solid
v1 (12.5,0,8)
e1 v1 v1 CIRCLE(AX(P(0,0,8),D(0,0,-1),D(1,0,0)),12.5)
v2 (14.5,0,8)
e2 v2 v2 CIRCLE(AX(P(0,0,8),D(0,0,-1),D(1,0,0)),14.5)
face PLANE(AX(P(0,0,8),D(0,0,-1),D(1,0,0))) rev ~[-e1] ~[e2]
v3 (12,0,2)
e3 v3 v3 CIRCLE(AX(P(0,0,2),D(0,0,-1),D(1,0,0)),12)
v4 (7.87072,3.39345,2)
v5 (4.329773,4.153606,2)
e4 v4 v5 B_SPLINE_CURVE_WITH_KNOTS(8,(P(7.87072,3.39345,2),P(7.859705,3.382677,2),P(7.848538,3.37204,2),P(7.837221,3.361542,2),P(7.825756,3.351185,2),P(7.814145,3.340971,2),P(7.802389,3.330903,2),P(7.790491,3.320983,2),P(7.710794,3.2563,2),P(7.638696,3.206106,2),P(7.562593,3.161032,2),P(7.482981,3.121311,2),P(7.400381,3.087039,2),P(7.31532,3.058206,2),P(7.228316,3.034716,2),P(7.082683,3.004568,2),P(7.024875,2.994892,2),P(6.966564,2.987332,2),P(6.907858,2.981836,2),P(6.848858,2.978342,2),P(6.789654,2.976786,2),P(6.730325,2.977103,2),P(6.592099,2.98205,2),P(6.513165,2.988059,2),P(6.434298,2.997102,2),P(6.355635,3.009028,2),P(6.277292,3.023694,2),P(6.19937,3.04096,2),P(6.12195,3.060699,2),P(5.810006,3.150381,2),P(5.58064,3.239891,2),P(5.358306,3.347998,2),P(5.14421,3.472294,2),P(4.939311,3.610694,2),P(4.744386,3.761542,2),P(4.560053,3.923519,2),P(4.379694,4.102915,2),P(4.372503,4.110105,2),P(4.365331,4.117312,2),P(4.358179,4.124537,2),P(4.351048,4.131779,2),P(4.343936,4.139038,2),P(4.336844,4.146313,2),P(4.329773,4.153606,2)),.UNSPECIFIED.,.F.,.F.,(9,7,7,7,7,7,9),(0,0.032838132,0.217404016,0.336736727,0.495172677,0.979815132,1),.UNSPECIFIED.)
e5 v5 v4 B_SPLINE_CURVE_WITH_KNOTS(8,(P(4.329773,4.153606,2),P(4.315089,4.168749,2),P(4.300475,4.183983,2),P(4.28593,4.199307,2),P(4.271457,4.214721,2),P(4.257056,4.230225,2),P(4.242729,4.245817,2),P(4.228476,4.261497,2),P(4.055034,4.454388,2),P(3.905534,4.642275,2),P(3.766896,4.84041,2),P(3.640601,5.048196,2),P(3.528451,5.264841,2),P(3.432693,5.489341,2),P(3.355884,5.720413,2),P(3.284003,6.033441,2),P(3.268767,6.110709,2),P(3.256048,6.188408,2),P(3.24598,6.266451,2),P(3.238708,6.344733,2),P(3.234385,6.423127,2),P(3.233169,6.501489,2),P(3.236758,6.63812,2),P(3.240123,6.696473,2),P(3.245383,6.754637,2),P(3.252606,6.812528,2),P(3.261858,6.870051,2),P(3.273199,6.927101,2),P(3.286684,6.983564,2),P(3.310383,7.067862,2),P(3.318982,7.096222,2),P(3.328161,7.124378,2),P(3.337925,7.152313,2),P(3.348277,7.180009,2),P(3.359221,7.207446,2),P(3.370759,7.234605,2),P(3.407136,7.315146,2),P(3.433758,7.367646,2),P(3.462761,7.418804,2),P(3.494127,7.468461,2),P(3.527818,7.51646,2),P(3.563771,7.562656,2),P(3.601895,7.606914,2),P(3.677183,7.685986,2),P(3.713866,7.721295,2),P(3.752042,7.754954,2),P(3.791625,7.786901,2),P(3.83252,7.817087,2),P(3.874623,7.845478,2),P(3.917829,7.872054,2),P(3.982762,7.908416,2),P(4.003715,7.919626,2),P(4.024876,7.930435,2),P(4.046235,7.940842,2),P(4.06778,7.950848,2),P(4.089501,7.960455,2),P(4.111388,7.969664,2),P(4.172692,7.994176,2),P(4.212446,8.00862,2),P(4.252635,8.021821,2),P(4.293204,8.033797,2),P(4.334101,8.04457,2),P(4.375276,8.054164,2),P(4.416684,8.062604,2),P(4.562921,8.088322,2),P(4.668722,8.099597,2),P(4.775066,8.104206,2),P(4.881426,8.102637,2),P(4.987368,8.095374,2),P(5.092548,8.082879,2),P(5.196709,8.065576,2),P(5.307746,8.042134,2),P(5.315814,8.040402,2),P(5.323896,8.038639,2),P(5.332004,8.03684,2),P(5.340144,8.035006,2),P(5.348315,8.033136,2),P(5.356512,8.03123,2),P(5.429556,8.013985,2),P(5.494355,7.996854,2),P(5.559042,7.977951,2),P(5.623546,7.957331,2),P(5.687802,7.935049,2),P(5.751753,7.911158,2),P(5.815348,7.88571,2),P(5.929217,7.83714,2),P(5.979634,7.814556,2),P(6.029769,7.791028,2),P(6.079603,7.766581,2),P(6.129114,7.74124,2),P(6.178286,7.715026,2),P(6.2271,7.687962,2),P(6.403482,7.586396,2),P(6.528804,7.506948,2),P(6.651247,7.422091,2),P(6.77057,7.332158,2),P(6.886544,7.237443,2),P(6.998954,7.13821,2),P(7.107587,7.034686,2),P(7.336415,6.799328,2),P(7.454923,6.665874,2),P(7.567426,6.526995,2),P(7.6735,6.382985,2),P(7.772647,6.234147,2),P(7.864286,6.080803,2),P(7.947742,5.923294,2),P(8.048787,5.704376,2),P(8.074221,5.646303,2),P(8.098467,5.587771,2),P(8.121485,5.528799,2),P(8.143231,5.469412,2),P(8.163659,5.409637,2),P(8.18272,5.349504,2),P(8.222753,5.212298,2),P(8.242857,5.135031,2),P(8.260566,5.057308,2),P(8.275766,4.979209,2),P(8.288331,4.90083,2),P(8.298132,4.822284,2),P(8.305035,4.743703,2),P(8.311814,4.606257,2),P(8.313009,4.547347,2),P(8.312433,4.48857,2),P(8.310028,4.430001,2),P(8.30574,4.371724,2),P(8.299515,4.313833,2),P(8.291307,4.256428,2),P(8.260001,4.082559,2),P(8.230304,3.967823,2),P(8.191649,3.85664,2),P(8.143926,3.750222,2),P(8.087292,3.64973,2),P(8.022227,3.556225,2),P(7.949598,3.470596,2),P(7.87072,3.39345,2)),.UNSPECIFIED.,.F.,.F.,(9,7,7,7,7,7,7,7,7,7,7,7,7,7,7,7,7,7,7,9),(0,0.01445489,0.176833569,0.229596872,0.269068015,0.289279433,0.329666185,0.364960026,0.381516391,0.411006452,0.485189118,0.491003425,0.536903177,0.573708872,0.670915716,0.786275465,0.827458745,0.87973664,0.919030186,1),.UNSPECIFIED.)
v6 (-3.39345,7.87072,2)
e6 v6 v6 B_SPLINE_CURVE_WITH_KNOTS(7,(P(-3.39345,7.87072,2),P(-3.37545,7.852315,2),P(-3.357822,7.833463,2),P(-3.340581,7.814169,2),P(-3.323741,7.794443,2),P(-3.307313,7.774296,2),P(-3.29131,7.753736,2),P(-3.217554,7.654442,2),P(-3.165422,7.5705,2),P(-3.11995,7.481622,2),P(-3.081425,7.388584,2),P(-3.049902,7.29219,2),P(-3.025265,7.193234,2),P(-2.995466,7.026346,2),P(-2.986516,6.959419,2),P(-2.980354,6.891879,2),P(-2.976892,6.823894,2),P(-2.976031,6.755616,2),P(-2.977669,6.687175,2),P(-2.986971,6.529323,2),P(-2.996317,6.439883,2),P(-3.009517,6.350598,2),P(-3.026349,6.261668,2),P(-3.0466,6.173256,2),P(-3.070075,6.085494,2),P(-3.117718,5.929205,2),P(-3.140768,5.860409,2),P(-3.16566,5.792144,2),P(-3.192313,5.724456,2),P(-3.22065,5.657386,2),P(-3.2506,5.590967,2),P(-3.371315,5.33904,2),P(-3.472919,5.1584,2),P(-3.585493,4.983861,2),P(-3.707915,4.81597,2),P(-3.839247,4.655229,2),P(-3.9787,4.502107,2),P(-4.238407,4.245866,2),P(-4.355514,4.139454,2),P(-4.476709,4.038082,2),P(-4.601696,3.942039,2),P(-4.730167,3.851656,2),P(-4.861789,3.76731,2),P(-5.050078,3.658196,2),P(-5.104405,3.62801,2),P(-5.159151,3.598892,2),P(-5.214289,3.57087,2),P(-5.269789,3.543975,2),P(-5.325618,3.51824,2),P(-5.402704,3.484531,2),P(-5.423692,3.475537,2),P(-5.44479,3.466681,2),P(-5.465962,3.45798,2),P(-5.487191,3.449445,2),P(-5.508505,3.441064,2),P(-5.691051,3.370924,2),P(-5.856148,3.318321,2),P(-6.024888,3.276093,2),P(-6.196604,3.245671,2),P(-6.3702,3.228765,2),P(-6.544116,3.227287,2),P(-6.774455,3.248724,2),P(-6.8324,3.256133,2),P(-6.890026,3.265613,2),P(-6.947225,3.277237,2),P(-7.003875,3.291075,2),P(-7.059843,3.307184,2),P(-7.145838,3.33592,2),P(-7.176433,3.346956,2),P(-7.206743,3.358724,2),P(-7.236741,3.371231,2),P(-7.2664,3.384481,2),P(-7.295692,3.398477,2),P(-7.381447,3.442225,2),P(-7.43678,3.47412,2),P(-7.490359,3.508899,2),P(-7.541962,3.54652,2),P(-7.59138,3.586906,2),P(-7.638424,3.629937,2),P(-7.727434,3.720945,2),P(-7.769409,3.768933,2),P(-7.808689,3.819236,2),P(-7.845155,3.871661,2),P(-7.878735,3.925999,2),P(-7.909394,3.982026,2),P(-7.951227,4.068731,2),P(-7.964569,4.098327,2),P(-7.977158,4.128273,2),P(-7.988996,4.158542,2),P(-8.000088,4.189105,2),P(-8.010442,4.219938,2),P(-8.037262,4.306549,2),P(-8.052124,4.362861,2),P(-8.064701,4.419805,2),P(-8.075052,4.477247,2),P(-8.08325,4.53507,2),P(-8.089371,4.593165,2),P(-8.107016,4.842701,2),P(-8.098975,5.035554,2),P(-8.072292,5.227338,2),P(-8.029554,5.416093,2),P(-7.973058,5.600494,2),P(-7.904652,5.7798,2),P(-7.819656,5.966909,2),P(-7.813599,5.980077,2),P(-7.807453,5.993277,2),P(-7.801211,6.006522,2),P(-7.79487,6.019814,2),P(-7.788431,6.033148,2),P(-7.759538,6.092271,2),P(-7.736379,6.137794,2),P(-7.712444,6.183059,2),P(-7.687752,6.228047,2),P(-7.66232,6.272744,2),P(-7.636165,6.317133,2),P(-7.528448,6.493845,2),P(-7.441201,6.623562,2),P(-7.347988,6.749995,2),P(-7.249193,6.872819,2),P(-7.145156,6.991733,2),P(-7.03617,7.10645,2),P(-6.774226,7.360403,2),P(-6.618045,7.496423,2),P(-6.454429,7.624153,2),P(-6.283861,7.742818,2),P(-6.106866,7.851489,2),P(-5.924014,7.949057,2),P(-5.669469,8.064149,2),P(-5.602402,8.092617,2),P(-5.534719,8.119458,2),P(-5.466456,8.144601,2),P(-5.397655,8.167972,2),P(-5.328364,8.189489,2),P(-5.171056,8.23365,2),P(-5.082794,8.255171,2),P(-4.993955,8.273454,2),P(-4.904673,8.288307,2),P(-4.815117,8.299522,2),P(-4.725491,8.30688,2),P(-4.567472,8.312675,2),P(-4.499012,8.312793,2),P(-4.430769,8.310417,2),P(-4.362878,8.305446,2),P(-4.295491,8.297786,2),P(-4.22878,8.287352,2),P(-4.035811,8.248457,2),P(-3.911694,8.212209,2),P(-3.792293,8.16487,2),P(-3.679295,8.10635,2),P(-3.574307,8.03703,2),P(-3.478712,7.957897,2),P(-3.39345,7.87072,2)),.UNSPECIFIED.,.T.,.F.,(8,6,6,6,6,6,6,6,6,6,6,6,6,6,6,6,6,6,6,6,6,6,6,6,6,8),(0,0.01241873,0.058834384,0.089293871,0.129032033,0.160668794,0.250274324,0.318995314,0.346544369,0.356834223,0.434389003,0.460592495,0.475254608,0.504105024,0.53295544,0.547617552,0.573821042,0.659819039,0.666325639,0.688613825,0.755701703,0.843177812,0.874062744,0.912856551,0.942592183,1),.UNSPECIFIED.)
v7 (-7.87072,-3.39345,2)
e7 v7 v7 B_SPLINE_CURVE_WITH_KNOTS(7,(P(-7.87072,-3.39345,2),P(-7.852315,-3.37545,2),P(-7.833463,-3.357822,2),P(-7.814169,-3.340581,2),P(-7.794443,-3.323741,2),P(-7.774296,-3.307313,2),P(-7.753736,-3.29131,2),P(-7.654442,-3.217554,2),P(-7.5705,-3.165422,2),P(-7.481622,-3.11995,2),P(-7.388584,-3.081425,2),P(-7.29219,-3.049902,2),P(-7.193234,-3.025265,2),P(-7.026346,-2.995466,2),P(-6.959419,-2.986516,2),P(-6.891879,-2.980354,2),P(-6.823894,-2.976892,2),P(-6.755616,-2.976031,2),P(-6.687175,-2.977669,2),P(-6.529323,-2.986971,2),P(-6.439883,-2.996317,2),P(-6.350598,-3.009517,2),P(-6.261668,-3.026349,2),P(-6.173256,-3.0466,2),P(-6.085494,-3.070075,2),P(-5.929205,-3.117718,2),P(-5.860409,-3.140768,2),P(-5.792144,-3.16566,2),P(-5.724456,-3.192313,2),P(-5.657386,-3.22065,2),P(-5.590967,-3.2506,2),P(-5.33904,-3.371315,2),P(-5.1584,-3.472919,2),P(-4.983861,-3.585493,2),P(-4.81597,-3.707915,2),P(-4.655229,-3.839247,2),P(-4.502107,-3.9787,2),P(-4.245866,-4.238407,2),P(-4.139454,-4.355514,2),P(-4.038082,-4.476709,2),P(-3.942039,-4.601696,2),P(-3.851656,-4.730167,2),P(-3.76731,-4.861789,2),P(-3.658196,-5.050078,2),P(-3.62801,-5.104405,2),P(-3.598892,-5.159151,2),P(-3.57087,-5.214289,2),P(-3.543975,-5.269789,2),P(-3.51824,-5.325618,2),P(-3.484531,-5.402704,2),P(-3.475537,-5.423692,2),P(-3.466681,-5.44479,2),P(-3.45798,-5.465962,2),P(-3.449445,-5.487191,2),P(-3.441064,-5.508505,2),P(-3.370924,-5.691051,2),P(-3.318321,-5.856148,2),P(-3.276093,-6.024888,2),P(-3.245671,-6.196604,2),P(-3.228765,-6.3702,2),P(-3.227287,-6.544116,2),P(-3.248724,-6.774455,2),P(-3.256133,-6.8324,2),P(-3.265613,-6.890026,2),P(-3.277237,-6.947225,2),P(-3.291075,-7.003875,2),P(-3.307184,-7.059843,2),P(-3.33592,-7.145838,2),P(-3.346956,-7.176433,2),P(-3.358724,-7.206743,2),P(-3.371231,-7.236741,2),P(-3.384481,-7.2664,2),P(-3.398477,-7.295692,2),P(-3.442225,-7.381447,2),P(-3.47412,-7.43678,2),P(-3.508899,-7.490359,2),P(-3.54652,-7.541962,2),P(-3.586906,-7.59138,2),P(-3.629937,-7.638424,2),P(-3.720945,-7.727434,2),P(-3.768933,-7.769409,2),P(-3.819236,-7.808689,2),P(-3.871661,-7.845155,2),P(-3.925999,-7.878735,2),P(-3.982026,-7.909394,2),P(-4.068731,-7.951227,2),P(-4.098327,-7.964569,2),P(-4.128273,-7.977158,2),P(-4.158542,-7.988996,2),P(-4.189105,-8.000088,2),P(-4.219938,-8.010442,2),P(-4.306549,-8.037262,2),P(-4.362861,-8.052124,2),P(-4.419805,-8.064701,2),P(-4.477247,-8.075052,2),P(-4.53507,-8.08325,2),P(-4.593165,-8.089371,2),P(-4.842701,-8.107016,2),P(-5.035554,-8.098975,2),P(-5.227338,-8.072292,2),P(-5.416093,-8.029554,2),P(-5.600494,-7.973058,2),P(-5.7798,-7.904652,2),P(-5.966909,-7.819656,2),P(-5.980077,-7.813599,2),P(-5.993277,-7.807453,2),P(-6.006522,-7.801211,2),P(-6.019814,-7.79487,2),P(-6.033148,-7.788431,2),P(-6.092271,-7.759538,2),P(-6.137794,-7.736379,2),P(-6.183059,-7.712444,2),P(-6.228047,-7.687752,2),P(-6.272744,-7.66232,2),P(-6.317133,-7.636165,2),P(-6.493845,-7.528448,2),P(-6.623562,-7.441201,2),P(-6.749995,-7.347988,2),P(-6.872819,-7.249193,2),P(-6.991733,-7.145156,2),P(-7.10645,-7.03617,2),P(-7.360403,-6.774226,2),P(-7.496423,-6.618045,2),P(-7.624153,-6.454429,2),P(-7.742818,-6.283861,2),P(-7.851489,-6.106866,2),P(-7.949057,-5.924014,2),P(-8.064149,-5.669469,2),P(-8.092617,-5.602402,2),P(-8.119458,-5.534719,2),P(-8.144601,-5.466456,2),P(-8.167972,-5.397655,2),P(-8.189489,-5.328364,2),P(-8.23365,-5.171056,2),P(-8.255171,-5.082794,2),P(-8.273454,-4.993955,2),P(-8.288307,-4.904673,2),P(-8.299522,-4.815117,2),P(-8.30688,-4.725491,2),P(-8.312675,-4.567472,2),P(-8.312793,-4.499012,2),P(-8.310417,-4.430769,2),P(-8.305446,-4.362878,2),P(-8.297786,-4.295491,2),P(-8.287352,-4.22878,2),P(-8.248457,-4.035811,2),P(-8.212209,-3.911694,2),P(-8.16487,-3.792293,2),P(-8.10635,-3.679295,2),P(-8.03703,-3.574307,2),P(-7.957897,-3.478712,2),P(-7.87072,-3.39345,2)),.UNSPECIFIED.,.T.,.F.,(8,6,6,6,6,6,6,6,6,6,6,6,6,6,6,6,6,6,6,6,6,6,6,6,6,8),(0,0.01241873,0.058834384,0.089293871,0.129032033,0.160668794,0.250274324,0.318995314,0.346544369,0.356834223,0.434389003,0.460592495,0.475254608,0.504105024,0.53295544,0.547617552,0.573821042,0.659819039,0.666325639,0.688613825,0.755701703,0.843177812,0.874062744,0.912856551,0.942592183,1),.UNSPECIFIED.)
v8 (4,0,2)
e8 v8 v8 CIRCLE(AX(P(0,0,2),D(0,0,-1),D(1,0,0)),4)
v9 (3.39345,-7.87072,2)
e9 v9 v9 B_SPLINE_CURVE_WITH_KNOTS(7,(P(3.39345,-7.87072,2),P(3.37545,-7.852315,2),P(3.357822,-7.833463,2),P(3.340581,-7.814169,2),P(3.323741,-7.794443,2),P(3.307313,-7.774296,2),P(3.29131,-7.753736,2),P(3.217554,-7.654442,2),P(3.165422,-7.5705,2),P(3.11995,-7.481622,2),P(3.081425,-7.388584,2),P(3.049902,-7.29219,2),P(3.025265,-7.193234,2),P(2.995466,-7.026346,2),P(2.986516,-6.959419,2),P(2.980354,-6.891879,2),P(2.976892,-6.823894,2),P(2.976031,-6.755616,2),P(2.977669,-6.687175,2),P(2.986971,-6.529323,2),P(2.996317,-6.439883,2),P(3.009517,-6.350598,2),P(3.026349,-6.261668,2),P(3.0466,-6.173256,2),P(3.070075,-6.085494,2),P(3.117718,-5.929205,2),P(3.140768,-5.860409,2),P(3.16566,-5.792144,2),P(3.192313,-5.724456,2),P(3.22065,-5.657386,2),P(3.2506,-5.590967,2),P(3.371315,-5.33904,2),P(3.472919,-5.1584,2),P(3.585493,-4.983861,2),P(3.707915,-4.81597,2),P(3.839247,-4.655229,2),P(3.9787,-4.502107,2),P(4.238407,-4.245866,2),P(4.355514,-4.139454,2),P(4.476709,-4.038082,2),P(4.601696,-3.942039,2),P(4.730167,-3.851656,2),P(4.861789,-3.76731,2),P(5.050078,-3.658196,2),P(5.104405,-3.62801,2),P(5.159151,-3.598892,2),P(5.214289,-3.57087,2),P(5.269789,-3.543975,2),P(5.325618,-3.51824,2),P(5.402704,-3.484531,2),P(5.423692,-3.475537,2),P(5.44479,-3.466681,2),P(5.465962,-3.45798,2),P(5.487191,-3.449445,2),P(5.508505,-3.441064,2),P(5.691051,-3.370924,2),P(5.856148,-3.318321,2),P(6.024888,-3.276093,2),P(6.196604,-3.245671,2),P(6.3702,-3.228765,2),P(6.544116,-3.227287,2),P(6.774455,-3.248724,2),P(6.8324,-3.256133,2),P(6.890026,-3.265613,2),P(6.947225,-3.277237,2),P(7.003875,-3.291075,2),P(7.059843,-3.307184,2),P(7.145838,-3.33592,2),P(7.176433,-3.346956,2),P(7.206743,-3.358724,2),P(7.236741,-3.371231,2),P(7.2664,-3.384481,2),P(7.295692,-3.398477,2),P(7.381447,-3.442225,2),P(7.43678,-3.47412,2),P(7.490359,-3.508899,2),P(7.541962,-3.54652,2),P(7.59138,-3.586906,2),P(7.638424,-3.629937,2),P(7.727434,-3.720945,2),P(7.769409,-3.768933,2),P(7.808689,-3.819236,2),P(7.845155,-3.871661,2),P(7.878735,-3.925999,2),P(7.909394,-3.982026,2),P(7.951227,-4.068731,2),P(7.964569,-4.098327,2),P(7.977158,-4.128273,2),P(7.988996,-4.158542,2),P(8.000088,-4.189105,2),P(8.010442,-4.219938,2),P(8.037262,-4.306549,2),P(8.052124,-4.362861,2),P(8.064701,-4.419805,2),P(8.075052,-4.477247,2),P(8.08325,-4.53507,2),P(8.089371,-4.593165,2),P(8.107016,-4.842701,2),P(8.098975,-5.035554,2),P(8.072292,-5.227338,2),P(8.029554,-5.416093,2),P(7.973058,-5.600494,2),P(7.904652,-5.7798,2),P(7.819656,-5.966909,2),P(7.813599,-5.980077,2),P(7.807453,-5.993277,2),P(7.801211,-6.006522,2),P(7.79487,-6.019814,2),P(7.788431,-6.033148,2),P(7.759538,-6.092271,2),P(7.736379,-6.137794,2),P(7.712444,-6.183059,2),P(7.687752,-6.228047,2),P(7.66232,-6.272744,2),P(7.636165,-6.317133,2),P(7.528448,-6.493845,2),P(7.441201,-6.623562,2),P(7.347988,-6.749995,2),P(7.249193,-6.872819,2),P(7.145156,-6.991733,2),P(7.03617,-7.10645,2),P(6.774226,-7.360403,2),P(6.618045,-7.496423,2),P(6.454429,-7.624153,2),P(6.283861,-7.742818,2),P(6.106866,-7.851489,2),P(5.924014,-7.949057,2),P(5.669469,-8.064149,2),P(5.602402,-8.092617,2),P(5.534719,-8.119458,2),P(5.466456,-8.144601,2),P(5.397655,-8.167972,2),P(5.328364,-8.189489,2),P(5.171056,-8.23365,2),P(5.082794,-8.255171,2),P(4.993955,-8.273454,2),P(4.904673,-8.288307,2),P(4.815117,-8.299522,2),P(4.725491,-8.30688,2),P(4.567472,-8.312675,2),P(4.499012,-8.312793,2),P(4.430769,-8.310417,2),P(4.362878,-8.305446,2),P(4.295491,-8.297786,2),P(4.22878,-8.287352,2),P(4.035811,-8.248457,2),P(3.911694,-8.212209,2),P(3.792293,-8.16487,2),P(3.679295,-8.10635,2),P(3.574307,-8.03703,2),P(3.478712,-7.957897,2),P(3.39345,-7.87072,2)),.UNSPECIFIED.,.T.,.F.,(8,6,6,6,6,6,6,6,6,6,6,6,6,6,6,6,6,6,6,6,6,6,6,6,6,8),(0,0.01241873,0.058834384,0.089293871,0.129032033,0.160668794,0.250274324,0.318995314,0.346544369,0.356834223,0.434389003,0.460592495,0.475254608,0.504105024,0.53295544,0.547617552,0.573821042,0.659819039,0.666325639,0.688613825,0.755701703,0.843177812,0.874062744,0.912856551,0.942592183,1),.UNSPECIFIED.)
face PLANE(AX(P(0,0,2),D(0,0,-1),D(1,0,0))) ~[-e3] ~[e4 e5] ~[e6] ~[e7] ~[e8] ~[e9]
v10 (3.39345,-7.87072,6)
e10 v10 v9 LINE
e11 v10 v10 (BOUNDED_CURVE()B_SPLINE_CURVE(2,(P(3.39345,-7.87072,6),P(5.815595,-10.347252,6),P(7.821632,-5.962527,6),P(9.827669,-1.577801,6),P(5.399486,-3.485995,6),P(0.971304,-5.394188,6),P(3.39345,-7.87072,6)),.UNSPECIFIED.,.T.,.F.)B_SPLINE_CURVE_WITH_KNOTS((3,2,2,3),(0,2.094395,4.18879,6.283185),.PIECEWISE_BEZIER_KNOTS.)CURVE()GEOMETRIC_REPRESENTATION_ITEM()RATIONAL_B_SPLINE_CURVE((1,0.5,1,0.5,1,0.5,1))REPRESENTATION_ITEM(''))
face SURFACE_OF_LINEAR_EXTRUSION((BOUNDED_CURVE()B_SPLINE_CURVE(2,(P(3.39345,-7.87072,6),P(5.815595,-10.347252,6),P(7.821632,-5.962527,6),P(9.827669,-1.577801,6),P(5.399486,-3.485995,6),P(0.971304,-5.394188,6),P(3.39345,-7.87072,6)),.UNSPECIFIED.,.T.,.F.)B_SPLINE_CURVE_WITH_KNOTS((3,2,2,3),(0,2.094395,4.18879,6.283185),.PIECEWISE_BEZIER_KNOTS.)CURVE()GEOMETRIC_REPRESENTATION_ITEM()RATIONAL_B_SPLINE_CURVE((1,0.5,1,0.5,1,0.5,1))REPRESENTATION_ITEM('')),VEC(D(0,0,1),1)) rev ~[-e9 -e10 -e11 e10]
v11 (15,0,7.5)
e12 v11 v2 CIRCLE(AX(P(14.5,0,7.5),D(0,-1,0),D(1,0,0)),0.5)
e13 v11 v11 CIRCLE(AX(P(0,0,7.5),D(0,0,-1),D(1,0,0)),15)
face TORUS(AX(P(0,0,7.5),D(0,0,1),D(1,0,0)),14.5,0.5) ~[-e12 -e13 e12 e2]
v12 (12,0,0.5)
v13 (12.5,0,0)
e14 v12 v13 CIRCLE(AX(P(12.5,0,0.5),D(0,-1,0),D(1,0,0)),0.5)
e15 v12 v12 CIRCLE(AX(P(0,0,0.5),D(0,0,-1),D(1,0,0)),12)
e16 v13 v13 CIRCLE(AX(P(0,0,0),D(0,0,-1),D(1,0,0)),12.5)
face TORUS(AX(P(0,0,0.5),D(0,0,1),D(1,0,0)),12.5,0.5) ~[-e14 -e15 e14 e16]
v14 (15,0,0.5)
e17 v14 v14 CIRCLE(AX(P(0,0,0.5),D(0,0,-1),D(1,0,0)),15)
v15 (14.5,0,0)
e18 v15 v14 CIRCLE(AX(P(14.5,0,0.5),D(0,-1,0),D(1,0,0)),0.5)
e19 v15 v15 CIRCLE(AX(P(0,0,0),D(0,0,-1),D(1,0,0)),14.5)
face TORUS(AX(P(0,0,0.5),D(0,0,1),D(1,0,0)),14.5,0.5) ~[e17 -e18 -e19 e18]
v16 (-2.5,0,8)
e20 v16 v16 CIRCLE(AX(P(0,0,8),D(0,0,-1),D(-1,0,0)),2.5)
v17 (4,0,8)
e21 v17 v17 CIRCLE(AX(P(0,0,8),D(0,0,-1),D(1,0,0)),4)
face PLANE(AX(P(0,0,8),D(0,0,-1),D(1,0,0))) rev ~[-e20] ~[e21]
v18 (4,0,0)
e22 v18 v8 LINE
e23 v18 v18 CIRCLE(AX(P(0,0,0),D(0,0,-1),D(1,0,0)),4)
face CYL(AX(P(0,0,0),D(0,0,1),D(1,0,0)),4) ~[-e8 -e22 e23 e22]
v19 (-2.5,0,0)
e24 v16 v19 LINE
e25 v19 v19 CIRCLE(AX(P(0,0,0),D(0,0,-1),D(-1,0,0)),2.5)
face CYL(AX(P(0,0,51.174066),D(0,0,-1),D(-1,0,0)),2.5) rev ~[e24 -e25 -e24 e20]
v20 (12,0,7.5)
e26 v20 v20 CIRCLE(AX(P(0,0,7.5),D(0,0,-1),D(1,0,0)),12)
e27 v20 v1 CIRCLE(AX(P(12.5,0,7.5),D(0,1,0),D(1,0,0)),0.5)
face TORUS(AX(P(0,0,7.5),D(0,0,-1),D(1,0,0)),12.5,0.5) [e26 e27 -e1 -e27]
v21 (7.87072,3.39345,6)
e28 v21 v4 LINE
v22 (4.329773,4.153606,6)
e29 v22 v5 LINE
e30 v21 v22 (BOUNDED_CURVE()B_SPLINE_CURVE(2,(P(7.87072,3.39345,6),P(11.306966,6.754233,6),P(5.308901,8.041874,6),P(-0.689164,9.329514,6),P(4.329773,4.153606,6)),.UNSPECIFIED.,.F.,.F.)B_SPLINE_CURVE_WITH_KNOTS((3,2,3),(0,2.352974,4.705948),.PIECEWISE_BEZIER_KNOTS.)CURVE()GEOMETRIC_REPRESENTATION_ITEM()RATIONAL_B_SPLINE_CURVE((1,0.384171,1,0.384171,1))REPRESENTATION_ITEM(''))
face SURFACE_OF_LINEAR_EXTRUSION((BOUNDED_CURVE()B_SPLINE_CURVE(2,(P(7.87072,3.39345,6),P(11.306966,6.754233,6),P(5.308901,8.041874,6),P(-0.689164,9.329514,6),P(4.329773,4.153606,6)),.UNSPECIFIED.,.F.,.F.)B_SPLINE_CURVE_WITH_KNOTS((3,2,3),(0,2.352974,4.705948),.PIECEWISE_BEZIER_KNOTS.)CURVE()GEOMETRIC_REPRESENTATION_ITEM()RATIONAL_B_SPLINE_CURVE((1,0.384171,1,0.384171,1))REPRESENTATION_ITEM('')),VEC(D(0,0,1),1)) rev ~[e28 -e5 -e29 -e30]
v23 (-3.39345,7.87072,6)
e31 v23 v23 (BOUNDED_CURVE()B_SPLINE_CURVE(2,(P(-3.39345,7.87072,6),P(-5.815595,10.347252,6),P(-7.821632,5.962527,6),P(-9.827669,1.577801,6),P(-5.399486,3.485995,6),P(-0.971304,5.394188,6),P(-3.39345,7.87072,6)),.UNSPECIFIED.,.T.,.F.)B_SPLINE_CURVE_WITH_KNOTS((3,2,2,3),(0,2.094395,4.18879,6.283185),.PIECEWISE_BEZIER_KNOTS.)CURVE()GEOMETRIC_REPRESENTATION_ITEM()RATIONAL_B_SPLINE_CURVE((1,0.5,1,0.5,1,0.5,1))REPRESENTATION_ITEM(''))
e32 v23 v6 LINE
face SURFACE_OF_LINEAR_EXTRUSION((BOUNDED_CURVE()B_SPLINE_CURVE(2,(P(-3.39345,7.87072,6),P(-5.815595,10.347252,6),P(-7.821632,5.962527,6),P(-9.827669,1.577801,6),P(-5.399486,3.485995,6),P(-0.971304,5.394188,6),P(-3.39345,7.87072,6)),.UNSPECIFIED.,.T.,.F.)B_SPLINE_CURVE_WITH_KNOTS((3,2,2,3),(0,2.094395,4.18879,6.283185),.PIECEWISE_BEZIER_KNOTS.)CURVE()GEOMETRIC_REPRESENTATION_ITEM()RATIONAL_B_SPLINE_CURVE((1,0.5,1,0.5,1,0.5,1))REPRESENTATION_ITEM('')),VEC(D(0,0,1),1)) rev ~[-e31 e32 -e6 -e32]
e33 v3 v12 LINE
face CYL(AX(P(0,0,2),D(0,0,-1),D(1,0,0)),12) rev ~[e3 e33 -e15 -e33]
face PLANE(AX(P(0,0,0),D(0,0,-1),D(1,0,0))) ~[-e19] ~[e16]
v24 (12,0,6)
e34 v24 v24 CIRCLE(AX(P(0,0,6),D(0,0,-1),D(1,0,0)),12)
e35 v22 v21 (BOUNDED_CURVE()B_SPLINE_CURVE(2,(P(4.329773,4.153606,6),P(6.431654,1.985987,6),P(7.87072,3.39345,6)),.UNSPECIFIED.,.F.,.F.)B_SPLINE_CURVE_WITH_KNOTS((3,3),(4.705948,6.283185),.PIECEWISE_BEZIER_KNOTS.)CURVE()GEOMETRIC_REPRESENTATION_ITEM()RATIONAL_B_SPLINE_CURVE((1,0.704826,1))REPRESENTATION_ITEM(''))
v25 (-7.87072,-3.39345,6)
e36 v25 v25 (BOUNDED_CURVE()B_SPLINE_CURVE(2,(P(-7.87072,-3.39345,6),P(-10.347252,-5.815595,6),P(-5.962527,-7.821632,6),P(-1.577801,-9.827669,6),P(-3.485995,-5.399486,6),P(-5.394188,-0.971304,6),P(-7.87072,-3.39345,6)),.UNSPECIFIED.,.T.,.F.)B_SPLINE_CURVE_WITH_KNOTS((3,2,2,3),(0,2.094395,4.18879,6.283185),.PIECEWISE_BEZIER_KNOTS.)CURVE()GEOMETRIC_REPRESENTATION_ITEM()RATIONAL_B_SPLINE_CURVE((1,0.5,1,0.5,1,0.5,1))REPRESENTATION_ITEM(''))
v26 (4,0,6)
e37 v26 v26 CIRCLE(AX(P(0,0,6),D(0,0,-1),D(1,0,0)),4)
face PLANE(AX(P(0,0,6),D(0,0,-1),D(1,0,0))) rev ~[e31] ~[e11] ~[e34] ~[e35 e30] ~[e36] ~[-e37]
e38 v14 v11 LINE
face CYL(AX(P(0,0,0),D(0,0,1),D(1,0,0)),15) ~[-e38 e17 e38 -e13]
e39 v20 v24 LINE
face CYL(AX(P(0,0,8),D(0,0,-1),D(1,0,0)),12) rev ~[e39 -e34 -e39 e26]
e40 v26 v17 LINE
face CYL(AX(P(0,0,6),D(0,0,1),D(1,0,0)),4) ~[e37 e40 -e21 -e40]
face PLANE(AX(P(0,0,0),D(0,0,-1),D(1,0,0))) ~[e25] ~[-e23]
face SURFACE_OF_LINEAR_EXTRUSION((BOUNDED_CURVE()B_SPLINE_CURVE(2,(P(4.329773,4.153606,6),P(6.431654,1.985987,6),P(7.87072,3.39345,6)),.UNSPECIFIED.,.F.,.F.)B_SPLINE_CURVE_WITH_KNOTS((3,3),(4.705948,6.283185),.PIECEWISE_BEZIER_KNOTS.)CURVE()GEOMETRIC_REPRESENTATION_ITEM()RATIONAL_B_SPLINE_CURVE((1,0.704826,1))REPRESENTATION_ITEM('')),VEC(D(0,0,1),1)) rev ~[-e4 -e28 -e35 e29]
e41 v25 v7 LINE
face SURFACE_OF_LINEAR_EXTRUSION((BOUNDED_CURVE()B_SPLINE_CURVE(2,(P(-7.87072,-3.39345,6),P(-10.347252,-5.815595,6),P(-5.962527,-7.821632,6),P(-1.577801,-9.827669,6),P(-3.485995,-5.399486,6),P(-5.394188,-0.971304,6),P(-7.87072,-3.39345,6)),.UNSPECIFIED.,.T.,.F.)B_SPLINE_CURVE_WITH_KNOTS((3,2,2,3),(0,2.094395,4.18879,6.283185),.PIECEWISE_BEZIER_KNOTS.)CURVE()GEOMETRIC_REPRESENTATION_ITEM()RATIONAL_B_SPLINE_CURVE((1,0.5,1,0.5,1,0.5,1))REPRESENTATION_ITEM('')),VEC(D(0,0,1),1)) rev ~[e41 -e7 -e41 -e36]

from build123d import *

# Parameters (mm, degrees)
F3_DEPTH = 6.001
F5_D     = 5
F6_R     = 0.5


with BuildPart() as f1:
    # F0 (on Front) → F1 (revolve)
    with BuildSketch(Plane.XZ):
        Polygon((0, 8), (0, 0), (4, 0), (4, 2), (12, 2), (12, 0), (15, 0), (15, 8), (12, 8), (12, 6), (4, 6), (4, 8), align=None)
    revolve(axis=Axis((0, 0, 4), (0, 0, -1)))

    # F2 (on face) → F3 (cut, through all)
    with BuildSketch(Plane.XY.offset(6)):
        with BuildLine():
            add(Edge.make_bspline(
                [(-3.39345, 7.87072), (-5.815595, 10.347252), (-7.821632, 5.962527), (-9.827669, 1.577801), (-5.399486, 3.485995), (-0.971304, 5.394188), (-3.39345, 7.87072)],
                knots=[0, 0, 0, 2.094395, 2.094395, 4.18879, 4.18879, 6.283185, 6.283185, 6.283185], degree=2, weights=[1, 0.5, 1, 0.5, 1, 0.5, 1]))
        make_face()
        with BuildLine():
            add(Edge.make_bspline(
                [(-7.87072, -3.39345), (-10.347252, -5.815595), (-5.962527, -7.821632), (-1.577801, -9.827669), (-3.485995, -5.399486), (-5.394188, -0.971304), (-7.87072, -3.39345)],
                knots=[0, 0, 0, 2.094395, 2.094395, 4.18879, 4.18879, 6.283185, 6.283185, 6.283185], degree=2, weights=[1, 0.5, 1, 0.5, 1, 0.5, 1]))
        make_face()
        with BuildLine():
            add(Edge.make_bspline(
                [(3.39345, -7.87072), (5.815595, -10.347252), (7.821632, -5.962527), (9.827669, -1.577801), (5.399486, -3.485995), (0.971304, -5.394188), (3.39345, -7.87072)],
                knots=[0, 0, 0, 2.094395, 2.094395, 4.18879, 4.18879, 6.283185, 6.283185, 6.283185], degree=2, weights=[1, 0.5, 1, 0.5, 1, 0.5, 1]))
        make_face()
        with BuildLine():
            add(Edge.make_bspline(
                [(4.329773, 4.153606), (6.431654, 1.985987), (7.87072, 3.39345)],
                knots=[4.705948, 4.705948, 4.705948, 6.283185, 6.283185, 6.283185], degree=2, weights=[1, 0.704826, 1]))
            add(Edge.make_bspline(
                [(7.87072, 3.39345), (11.306966, 6.754233), (5.308901, 8.041874), (-0.689164, 9.329514), (4.329773, 4.153606)],
                knots=[0, 0, 0, 2.352974, 2.352974, 4.705948, 4.705948, 4.705948], degree=2, weights=[1, 0.384171, 1, 0.384171, 1]))
        make_face()
    extrude(amount=-F3_DEPTH, mode=Mode.SUBTRACT)

    # F5 (through all)
    with Locations(Plane.XY.offset(8)):
        with Locations((0, 0)):
            Hole(F5_D / 2)

    # F6
    f6_edges = [f1.edges().sort_by_distance(p)[0] for p in [
        (-15, 0, 8),
        (-15, 0, 0),
        (-12, 0, 8),
        (-12, 0, 0),
    ]]
    fillet(f6_edges, radius=F6_R)


solid = f1.part
